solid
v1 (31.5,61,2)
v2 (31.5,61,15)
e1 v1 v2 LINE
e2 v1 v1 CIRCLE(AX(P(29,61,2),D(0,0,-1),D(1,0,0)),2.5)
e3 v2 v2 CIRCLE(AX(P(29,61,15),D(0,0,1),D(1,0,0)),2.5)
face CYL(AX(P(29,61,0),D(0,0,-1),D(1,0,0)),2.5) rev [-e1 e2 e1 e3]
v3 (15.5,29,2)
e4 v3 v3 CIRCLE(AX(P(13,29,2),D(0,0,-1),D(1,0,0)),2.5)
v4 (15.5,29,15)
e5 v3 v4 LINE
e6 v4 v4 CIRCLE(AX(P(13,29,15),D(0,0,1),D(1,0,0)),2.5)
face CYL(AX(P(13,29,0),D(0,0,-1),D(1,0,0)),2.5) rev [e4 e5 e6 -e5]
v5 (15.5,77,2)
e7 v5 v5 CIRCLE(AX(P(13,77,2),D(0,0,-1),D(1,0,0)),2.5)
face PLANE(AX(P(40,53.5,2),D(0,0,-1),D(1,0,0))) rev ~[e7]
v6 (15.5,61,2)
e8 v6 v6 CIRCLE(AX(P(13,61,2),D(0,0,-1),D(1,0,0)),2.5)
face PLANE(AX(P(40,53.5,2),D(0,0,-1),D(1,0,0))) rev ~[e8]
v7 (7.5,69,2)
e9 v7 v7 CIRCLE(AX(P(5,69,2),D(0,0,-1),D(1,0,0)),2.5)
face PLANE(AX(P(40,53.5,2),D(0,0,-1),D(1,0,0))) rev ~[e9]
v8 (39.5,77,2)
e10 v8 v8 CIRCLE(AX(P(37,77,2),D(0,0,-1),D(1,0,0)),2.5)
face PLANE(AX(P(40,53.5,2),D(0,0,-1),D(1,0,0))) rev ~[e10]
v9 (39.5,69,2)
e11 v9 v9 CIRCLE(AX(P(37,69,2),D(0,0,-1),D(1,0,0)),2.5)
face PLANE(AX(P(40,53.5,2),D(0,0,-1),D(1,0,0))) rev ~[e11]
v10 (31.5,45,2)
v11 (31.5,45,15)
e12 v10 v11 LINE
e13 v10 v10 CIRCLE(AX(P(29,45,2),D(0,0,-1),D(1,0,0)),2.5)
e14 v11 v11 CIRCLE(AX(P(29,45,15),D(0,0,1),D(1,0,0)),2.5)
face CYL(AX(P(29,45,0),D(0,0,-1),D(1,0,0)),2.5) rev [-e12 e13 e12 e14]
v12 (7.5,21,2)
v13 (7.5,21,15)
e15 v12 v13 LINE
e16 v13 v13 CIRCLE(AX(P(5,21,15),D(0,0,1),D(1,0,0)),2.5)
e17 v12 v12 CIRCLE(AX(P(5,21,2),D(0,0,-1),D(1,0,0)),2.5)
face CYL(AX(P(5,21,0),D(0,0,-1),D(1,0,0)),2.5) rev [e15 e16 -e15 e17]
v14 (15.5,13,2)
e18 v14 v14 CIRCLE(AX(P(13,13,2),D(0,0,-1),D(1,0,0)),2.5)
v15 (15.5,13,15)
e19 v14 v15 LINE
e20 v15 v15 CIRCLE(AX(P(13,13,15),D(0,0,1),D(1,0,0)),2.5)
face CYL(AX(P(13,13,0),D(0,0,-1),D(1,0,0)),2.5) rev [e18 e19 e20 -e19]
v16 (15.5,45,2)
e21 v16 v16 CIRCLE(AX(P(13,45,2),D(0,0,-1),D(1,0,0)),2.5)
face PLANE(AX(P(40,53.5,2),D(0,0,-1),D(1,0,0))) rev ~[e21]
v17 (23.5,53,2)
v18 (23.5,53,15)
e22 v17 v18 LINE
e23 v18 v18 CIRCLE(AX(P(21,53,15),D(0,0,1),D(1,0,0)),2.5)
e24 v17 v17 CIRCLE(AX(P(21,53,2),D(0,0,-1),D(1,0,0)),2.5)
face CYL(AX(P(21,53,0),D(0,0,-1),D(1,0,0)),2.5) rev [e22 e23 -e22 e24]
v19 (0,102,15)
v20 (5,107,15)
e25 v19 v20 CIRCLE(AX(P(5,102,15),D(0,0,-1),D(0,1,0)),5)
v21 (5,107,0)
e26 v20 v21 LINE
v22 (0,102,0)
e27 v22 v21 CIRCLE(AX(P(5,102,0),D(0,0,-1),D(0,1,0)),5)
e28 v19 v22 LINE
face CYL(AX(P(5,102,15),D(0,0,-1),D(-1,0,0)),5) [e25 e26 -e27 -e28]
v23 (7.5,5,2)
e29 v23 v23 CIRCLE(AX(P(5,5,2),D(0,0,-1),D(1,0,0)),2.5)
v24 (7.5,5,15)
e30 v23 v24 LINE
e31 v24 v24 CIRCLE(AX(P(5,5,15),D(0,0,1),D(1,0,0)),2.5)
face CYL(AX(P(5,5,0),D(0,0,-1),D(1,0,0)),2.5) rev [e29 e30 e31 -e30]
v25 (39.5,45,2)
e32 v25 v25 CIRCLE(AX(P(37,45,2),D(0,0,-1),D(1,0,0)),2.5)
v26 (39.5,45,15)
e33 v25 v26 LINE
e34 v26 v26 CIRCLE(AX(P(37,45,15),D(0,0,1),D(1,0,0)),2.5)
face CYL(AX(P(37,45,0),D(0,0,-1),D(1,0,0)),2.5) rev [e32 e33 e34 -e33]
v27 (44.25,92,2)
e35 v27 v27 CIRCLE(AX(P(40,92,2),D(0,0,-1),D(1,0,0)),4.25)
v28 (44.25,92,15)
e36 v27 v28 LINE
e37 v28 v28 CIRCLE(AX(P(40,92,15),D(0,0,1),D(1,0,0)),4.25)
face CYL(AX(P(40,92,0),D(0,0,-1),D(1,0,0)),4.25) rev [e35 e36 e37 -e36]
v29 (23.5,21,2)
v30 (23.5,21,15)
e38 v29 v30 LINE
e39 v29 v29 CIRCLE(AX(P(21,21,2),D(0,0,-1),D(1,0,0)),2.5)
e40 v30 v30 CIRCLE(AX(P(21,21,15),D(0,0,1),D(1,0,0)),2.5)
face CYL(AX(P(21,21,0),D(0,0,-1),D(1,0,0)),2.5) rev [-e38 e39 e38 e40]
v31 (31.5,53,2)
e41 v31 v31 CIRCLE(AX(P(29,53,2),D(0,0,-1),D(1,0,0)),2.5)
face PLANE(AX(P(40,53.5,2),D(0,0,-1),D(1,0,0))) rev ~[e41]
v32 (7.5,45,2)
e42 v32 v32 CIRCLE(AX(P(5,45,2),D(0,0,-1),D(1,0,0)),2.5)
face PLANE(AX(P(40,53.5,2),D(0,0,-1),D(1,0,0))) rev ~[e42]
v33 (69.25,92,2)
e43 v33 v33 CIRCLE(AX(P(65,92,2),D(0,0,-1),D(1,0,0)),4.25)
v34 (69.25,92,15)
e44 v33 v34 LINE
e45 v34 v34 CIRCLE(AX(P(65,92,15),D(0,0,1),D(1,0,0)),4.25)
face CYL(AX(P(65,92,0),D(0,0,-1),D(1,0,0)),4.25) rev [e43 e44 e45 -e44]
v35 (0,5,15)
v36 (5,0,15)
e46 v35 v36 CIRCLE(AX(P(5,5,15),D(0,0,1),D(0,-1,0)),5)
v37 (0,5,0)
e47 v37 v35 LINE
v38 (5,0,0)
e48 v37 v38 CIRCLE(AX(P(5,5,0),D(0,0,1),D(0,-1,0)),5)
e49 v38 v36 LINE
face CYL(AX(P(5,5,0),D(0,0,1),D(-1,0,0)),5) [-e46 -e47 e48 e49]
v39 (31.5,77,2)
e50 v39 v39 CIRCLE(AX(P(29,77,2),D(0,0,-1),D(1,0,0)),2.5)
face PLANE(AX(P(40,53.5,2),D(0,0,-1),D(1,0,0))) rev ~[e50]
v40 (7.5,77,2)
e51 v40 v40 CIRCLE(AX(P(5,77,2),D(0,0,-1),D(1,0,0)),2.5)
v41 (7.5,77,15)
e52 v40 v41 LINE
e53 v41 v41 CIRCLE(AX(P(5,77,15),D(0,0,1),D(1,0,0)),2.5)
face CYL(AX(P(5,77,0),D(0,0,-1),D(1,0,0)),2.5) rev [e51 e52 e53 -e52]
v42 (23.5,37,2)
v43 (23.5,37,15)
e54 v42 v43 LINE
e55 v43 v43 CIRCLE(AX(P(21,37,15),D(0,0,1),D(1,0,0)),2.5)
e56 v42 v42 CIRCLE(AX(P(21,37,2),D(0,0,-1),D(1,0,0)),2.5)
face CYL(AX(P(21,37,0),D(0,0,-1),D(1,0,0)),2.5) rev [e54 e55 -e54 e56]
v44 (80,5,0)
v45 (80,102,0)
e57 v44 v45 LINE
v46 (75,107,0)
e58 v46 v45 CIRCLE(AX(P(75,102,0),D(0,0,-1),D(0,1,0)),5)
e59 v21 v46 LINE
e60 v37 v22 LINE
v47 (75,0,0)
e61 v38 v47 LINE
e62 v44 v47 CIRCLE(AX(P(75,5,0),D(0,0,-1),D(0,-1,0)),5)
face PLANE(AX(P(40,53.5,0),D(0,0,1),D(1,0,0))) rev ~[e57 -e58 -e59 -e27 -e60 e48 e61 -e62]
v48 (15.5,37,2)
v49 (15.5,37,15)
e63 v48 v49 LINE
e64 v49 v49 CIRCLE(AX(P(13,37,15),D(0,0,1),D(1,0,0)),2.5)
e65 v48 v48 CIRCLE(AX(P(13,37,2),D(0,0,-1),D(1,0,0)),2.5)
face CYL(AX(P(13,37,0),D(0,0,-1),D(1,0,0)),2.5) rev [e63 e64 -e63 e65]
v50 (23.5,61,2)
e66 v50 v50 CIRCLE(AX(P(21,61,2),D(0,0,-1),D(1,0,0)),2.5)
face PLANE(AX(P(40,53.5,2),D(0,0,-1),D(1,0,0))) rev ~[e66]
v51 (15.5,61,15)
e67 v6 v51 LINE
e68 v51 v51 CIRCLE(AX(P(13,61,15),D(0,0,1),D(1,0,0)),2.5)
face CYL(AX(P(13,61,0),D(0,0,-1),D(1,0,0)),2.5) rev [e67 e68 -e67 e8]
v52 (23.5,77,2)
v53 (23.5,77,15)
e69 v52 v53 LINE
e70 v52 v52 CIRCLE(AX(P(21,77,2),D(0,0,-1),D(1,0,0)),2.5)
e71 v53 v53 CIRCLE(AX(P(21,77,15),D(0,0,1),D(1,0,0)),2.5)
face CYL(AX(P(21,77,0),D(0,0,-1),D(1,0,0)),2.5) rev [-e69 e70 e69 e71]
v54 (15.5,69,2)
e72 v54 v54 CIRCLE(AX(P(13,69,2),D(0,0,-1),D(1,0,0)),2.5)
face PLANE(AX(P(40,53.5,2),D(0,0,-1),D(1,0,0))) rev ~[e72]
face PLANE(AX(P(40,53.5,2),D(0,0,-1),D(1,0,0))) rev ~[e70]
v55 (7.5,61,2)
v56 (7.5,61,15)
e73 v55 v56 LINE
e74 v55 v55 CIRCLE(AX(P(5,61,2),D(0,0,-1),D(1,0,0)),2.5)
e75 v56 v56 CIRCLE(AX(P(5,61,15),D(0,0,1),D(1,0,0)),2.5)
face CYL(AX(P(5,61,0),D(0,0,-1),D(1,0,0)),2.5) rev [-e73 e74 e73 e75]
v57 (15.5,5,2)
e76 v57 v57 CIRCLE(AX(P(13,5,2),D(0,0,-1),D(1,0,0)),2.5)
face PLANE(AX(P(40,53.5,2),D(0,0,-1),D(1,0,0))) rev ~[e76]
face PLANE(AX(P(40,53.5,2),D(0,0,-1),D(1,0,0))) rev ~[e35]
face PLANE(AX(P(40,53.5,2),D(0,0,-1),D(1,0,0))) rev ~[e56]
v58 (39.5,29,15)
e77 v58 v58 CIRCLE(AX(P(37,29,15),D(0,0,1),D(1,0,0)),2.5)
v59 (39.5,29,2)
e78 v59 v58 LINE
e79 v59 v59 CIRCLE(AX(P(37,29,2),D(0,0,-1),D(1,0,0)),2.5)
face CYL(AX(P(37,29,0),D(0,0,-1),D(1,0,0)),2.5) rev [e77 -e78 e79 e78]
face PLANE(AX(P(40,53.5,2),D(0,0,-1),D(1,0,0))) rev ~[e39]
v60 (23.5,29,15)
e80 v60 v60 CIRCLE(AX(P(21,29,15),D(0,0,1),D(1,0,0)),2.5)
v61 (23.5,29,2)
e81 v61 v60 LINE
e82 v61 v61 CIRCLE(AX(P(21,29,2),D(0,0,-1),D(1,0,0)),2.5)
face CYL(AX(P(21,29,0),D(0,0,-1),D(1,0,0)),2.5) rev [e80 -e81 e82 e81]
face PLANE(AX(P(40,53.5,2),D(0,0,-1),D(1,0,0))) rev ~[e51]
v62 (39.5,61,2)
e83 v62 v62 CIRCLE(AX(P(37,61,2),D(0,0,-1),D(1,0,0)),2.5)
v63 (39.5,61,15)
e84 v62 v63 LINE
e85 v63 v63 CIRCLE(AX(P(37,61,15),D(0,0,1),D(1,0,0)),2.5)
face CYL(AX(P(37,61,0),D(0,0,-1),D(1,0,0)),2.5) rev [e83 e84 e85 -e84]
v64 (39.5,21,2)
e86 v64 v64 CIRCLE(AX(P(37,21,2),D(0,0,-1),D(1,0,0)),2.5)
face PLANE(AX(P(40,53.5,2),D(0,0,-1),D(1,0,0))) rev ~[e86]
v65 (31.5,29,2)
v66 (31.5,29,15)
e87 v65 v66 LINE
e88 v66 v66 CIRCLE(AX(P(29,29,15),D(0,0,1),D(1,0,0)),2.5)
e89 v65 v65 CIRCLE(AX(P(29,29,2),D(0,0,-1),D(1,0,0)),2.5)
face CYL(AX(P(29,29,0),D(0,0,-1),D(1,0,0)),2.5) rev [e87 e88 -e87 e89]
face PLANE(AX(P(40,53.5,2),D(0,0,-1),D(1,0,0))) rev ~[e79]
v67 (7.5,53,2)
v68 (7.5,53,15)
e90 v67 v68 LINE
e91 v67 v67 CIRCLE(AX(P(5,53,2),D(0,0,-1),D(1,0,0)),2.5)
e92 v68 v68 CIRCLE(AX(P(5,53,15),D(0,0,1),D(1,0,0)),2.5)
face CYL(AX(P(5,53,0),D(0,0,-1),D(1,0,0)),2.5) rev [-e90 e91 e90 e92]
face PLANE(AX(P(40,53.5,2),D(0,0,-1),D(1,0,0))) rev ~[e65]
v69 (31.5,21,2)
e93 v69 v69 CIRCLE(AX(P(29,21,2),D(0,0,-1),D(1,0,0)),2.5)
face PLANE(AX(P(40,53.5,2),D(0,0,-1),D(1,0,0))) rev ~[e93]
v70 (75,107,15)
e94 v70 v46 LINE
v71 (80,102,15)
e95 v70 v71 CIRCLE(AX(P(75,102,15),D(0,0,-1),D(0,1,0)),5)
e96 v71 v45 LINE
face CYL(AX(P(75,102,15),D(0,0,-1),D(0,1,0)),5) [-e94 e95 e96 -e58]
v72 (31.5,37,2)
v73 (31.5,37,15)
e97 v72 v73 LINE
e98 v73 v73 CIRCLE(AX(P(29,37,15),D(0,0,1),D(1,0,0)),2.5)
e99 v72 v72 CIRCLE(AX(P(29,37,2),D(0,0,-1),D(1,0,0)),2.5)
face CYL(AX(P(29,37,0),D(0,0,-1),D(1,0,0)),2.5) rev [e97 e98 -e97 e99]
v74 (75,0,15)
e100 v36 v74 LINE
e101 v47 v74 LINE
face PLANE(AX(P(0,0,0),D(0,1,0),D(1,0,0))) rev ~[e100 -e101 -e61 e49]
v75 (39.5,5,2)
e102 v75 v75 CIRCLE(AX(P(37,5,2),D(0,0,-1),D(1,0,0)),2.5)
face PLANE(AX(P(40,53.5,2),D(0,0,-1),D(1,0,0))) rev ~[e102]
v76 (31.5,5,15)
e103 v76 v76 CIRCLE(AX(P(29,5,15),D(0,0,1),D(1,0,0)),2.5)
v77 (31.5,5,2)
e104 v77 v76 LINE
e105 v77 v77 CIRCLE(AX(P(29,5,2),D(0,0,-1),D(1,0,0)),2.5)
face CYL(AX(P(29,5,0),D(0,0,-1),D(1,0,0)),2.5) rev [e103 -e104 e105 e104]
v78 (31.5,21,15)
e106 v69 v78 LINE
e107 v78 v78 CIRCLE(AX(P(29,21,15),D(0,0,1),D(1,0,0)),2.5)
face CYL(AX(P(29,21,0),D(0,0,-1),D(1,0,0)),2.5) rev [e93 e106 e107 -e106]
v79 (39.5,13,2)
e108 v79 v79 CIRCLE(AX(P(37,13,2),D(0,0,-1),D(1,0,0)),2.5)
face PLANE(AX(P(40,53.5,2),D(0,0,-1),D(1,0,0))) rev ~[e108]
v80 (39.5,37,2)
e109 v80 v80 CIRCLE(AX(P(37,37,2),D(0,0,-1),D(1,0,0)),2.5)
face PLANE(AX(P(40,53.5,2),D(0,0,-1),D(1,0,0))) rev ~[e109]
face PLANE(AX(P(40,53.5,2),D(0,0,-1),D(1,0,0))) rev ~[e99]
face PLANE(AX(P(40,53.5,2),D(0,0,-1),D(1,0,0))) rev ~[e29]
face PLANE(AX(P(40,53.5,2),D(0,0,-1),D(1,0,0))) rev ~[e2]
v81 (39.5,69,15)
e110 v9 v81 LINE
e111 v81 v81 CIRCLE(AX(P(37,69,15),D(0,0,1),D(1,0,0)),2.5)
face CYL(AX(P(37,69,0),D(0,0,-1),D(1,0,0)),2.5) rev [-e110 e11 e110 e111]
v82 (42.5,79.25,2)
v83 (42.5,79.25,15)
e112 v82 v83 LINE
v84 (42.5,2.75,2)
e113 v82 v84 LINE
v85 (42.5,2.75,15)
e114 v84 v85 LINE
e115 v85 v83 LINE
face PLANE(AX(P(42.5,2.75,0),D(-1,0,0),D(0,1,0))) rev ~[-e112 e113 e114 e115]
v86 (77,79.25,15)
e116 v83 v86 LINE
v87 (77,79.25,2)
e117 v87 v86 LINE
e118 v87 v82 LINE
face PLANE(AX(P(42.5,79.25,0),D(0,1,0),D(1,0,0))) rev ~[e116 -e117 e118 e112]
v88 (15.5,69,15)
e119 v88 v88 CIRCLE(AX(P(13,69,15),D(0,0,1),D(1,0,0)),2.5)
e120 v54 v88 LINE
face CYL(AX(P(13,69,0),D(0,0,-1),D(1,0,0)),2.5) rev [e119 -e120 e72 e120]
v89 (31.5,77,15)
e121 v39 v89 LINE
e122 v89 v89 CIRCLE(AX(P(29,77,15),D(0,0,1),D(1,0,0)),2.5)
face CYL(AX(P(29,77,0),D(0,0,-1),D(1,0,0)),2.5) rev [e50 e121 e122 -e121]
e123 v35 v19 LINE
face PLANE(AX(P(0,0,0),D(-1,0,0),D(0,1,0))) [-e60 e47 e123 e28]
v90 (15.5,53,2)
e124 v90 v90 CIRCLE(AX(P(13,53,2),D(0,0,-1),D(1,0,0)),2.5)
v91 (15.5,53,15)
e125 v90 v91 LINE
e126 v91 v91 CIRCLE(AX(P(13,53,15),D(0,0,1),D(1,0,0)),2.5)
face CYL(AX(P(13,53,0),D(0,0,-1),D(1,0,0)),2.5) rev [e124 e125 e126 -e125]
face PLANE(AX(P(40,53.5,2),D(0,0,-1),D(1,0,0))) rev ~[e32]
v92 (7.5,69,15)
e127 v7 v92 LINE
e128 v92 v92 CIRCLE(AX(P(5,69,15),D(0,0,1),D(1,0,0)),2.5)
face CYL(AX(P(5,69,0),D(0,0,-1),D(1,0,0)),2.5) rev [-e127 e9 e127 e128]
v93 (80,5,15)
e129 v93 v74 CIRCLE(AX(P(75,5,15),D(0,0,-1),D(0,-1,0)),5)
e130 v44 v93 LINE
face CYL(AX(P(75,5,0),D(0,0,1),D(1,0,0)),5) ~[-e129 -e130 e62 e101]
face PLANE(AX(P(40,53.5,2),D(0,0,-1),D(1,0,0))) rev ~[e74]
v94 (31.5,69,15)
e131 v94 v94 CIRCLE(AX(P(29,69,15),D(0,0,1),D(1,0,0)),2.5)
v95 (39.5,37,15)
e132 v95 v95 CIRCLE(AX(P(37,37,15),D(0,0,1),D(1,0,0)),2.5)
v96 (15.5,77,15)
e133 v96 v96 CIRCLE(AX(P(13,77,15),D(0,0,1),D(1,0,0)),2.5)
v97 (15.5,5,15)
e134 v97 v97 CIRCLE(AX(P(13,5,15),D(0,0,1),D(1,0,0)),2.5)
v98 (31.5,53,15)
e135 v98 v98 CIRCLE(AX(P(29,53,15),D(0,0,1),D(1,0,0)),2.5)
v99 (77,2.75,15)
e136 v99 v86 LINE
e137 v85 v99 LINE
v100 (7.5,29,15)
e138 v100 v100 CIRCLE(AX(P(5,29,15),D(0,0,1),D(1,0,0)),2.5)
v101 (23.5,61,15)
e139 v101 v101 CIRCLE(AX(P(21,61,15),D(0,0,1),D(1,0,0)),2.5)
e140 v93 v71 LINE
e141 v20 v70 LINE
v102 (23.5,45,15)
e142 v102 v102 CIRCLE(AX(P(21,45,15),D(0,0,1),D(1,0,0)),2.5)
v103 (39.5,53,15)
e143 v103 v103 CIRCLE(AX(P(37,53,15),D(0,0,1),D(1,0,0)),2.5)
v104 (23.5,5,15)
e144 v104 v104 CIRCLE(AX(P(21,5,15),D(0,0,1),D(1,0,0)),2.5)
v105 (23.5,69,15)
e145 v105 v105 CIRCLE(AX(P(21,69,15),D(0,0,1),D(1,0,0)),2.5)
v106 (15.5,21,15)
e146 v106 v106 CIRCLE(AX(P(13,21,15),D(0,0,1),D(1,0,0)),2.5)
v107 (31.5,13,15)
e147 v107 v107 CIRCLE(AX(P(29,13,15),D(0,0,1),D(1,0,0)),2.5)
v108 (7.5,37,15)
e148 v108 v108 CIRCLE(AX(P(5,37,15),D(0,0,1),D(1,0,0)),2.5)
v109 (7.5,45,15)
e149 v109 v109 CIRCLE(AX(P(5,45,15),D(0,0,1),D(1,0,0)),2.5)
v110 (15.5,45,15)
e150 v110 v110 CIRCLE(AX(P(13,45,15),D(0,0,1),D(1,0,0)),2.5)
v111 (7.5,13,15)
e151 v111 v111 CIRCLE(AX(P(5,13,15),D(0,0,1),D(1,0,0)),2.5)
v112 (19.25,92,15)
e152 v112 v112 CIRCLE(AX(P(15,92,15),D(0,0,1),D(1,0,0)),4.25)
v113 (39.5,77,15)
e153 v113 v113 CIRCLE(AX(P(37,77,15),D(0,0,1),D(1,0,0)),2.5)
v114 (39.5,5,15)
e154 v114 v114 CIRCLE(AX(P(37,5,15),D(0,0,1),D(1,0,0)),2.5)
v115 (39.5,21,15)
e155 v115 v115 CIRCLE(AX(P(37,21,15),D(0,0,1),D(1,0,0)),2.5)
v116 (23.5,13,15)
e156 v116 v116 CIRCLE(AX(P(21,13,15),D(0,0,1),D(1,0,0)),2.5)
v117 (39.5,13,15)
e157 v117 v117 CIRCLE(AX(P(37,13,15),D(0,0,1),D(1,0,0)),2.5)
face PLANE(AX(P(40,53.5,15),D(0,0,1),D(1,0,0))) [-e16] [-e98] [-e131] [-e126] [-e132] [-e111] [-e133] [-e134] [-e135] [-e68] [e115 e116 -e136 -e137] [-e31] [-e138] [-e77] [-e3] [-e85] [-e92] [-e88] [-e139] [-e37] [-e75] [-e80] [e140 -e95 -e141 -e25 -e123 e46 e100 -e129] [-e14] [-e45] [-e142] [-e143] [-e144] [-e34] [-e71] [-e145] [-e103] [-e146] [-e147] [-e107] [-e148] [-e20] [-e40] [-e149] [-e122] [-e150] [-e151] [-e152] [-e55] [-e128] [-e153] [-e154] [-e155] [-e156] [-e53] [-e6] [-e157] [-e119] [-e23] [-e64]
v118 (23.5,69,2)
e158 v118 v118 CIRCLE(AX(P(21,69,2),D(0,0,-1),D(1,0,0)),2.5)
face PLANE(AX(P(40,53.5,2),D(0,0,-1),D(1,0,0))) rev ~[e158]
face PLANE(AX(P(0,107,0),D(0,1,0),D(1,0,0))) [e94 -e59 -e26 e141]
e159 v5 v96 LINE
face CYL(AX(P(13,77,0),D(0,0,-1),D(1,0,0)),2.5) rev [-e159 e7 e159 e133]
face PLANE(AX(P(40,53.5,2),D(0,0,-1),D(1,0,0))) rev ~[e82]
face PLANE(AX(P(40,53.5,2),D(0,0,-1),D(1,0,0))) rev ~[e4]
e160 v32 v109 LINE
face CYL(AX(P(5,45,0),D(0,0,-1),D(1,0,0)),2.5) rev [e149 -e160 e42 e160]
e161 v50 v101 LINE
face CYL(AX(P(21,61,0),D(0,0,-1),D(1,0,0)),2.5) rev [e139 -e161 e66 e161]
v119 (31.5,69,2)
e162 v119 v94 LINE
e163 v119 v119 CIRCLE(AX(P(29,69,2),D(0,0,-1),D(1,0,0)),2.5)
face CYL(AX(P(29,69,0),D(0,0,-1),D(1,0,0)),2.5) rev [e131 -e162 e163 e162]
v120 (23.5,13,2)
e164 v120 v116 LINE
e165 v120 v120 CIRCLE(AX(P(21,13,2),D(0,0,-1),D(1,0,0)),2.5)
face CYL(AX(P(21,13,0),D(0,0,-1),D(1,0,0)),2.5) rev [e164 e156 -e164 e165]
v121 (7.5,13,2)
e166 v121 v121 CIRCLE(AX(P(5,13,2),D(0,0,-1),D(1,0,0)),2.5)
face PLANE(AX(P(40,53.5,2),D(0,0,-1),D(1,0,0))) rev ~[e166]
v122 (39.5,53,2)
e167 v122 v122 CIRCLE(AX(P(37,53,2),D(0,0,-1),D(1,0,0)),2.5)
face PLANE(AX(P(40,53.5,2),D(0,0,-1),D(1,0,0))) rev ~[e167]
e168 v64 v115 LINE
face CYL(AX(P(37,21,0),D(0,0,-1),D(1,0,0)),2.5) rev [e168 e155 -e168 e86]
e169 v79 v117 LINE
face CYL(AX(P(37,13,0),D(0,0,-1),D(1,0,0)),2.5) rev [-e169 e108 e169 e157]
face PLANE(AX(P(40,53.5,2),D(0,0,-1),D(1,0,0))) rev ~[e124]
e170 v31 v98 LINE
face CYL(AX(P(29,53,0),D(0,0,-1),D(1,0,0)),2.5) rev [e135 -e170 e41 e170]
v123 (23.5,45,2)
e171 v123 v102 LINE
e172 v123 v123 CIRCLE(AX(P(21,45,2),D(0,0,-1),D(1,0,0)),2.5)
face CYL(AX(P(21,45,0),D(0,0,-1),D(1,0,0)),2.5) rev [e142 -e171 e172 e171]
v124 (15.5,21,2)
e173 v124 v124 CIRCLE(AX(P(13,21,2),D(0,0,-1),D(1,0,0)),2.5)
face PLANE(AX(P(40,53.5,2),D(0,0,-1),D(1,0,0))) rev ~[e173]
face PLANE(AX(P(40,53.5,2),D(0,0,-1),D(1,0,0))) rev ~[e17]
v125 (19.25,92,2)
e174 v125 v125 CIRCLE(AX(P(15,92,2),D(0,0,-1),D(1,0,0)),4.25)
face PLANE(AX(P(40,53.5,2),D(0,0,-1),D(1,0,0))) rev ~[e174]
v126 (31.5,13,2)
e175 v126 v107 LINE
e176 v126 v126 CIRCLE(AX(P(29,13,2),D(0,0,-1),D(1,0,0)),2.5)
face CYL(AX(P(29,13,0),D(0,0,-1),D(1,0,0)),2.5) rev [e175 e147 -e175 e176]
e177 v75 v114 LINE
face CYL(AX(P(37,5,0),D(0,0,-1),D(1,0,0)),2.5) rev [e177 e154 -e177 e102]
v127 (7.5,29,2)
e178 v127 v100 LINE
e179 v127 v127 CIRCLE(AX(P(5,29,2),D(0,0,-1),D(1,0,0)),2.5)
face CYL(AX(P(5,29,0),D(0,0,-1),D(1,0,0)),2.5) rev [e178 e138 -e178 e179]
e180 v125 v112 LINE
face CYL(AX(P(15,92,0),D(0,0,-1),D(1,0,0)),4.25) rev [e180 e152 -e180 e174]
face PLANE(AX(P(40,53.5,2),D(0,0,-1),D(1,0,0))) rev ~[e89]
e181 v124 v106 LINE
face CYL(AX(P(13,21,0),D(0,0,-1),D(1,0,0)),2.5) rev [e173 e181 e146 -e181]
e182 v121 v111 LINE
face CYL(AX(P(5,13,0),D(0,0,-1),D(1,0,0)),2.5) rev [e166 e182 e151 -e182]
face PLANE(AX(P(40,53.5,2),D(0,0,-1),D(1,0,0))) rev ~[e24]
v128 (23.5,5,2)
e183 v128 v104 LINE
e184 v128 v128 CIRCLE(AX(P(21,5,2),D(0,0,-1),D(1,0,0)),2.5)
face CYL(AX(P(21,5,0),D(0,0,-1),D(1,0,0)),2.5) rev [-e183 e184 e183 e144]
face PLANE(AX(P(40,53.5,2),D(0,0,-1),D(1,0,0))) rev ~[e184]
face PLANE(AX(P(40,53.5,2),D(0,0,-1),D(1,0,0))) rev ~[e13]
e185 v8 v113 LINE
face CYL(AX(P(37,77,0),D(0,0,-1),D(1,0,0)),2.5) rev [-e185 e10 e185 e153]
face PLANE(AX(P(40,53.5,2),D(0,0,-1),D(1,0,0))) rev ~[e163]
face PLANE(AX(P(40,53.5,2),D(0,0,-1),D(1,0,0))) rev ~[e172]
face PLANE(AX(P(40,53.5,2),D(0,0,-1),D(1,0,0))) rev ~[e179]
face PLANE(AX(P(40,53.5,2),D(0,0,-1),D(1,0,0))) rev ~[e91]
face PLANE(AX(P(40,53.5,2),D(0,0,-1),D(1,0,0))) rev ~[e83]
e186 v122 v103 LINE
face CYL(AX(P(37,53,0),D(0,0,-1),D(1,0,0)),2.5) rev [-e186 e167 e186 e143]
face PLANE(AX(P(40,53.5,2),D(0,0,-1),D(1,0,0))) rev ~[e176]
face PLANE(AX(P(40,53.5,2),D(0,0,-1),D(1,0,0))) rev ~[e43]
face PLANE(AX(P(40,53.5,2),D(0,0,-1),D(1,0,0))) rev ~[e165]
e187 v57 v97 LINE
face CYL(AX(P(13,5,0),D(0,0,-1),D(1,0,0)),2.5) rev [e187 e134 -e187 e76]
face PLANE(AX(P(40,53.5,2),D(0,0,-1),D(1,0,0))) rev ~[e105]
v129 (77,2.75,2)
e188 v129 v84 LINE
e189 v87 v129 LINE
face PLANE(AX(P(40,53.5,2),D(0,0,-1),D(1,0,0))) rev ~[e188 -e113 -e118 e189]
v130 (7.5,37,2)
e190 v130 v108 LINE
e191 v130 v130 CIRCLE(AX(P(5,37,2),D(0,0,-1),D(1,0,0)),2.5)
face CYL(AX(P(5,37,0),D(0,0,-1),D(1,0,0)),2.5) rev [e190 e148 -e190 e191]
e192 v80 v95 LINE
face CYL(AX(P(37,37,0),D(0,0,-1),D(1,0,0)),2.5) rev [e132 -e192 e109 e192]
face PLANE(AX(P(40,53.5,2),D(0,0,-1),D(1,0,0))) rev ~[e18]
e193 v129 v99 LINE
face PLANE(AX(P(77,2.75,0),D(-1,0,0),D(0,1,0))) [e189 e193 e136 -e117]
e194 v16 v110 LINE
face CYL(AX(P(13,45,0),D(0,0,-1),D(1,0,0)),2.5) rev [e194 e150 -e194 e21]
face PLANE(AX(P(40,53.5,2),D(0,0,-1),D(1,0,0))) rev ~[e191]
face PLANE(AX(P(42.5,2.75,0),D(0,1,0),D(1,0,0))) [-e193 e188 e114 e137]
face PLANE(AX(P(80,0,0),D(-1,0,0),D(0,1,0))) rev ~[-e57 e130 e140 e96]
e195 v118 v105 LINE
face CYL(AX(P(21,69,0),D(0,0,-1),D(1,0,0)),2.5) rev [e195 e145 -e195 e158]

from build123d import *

# Parameters (mm, degrees)
F0_W     = 80
F0_H     = 107
F0_R     = 2.5
F0_W_2   = 34.5
F0_H_2   = 76.5
F0_R_2   = 4.25
F1_DEPTH = 15
F2_W     = 80
F2_H     = 107
F3_DEPTH = 2
F4_R     = 5


with BuildPart() as f1:
    # F0 (on Top) → F1 (new body)
    with BuildSketch(Plane.XY):
        with Locations((40, 53.5)):
            Rectangle(F0_W, F0_H)
        with Locations((5, 5)):
            Circle(F0_R, mode=Mode.SUBTRACT)
        with Locations((5, 13)):
            Circle(F0_R, mode=Mode.SUBTRACT)
        with Locations((13, 5)):
            Circle(F0_R, mode=Mode.SUBTRACT)
        with Locations((13, 13)):
            Circle(F0_R, mode=Mode.SUBTRACT)
        with Locations((5, 21)):
            Circle(F0_R, mode=Mode.SUBTRACT)
        with Locations((13, 21)):
            Circle(F0_R, mode=Mode.SUBTRACT)
        with Locations((21, 5)):
            Circle(F0_R, mode=Mode.SUBTRACT)
        with Locations((29, 5)):
            Circle(F0_R, mode=Mode.SUBTRACT)
        with Locations((21, 13)):
            Circle(F0_R, mode=Mode.SUBTRACT)
        with Locations((29, 13)):
            Circle(F0_R, mode=Mode.SUBTRACT)
        with Locations((37, 5)):
            Circle(F0_R, mode=Mode.SUBTRACT)
        with Locations((37, 13)):
            Circle(F0_R, mode=Mode.SUBTRACT)
        with Locations((21, 21)):
            Circle(F0_R, mode=Mode.SUBTRACT)
        with Locations((29, 21)):
            Circle(F0_R, mode=Mode.SUBTRACT)
        with Locations((37, 21)):
            Circle(F0_R, mode=Mode.SUBTRACT)
        with Locations((5, 29)):
            Circle(F0_R, mode=Mode.SUBTRACT)
        with Locations((5, 37)):
            Circle(F0_R, mode=Mode.SUBTRACT)
        with Locations((13, 29)):
            Circle(F0_R, mode=Mode.SUBTRACT)
        with Locations((13, 37)):
            Circle(F0_R, mode=Mode.SUBTRACT)
        with Locations((5, 45)):
            Circle(F0_R, mode=Mode.SUBTRACT)
        with Locations((5, 53)):
            Circle(F0_R, mode=Mode.SUBTRACT)
        with Locations((13, 45)):
            Circle(F0_R, mode=Mode.SUBTRACT)
        with Locations((13, 53)):
            Circle(F0_R, mode=Mode.SUBTRACT)
        with Locations((21, 29)):
            Circle(F0_R, mode=Mode.SUBTRACT)
        with Locations((29, 29)):
            Circle(F0_R, mode=Mode.SUBTRACT)
        with Locations((21, 37)):
            Circle(F0_R, mode=Mode.SUBTRACT)
        with Locations((29, 37)):
            Circle(F0_R, mode=Mode.SUBTRACT)
        with Locations((37, 29)):
            Circle(F0_R, mode=Mode.SUBTRACT)
        with Locations((37, 37)):
            Circle(F0_R, mode=Mode.SUBTRACT)
        with Locations((21, 45)):
            Circle(F0_R, mode=Mode.SUBTRACT)
        with Locations((29, 45)):
            Circle(F0_R, mode=Mode.SUBTRACT)
        with Locations((21, 53)):
            Circle(F0_R, mode=Mode.SUBTRACT)
        with Locations((29, 53)):
            Circle(F0_R, mode=Mode.SUBTRACT)
        with Locations((37, 45)):
            Circle(F0_R, mode=Mode.SUBTRACT)
        with Locations((37, 53)):
            Circle(F0_R, mode=Mode.SUBTRACT)
        with Locations((59.75, 41)):
            Rectangle(F0_W_2, F0_H_2, mode=Mode.SUBTRACT)
        with Locations((5, 61)):
            Circle(F0_R, mode=Mode.SUBTRACT)
        with Locations((13, 61)):
            Circle(F0_R, mode=Mode.SUBTRACT)
        with Locations((5, 69)):
            Circle(F0_R, mode=Mode.SUBTRACT)
        with Locations((5, 77)):
            Circle(F0_R, mode=Mode.SUBTRACT)
        with Locations((13, 69)):
            Circle(F0_R, mode=Mode.SUBTRACT)
        with Locations((13, 77)):
            Circle(F0_R, mode=Mode.SUBTRACT)
        with Locations((21, 61)):
            Circle(F0_R, mode=Mode.SUBTRACT)
        with Locations((29, 61)):
            Circle(F0_R, mode=Mode.SUBTRACT)
        with Locations((37, 61)):
            Circle(F0_R, mode=Mode.SUBTRACT)
        with Locations((21, 69)):
            Circle(F0_R, mode=Mode.SUBTRACT)
        with Locations((29, 69)):
            Circle(F0_R, mode=Mode.SUBTRACT)
        with Locations((21, 77)):
            Circle(F0_R, mode=Mode.SUBTRACT)
        with Locations((29, 77)):
            Circle(F0_R, mode=Mode.SUBTRACT)
        with Locations((37, 69)):
            Circle(F0_R, mode=Mode.SUBTRACT)
        with Locations((37, 77)):
            Circle(F0_R, mode=Mode.SUBTRACT)
        with Locations((15, 92)):
            Circle(F0_R_2, mode=Mode.SUBTRACT)
        with Locations((40, 92)):
            Circle(F0_R_2, mode=Mode.SUBTRACT)
        with Locations((65, 92)):
            Circle(F0_R_2, mode=Mode.SUBTRACT)
    extrude(amount=F1_DEPTH)

    # F2 (on face) → F3 (join)
    with BuildSketch(Plane(origin=(0, 0, 0), x_dir=(1, 0, 0), z_dir=(0, 0, -1))):
        with Locations((40, -53.5)):
            Rectangle(F2_W, F2_H)
    extrude(amount=-F3_DEPTH)

    # F4
    f4_edges = [f1.edges().sort_by_distance(p)[0] for p in [
        (0, 107, 7.5),
        (0, 0, 7.5),
        (80, 0, 7.5),
        (80, 107, 7.5),
    ]]
    fillet(f4_edges, radius=F4_R)


solid = f1.part
